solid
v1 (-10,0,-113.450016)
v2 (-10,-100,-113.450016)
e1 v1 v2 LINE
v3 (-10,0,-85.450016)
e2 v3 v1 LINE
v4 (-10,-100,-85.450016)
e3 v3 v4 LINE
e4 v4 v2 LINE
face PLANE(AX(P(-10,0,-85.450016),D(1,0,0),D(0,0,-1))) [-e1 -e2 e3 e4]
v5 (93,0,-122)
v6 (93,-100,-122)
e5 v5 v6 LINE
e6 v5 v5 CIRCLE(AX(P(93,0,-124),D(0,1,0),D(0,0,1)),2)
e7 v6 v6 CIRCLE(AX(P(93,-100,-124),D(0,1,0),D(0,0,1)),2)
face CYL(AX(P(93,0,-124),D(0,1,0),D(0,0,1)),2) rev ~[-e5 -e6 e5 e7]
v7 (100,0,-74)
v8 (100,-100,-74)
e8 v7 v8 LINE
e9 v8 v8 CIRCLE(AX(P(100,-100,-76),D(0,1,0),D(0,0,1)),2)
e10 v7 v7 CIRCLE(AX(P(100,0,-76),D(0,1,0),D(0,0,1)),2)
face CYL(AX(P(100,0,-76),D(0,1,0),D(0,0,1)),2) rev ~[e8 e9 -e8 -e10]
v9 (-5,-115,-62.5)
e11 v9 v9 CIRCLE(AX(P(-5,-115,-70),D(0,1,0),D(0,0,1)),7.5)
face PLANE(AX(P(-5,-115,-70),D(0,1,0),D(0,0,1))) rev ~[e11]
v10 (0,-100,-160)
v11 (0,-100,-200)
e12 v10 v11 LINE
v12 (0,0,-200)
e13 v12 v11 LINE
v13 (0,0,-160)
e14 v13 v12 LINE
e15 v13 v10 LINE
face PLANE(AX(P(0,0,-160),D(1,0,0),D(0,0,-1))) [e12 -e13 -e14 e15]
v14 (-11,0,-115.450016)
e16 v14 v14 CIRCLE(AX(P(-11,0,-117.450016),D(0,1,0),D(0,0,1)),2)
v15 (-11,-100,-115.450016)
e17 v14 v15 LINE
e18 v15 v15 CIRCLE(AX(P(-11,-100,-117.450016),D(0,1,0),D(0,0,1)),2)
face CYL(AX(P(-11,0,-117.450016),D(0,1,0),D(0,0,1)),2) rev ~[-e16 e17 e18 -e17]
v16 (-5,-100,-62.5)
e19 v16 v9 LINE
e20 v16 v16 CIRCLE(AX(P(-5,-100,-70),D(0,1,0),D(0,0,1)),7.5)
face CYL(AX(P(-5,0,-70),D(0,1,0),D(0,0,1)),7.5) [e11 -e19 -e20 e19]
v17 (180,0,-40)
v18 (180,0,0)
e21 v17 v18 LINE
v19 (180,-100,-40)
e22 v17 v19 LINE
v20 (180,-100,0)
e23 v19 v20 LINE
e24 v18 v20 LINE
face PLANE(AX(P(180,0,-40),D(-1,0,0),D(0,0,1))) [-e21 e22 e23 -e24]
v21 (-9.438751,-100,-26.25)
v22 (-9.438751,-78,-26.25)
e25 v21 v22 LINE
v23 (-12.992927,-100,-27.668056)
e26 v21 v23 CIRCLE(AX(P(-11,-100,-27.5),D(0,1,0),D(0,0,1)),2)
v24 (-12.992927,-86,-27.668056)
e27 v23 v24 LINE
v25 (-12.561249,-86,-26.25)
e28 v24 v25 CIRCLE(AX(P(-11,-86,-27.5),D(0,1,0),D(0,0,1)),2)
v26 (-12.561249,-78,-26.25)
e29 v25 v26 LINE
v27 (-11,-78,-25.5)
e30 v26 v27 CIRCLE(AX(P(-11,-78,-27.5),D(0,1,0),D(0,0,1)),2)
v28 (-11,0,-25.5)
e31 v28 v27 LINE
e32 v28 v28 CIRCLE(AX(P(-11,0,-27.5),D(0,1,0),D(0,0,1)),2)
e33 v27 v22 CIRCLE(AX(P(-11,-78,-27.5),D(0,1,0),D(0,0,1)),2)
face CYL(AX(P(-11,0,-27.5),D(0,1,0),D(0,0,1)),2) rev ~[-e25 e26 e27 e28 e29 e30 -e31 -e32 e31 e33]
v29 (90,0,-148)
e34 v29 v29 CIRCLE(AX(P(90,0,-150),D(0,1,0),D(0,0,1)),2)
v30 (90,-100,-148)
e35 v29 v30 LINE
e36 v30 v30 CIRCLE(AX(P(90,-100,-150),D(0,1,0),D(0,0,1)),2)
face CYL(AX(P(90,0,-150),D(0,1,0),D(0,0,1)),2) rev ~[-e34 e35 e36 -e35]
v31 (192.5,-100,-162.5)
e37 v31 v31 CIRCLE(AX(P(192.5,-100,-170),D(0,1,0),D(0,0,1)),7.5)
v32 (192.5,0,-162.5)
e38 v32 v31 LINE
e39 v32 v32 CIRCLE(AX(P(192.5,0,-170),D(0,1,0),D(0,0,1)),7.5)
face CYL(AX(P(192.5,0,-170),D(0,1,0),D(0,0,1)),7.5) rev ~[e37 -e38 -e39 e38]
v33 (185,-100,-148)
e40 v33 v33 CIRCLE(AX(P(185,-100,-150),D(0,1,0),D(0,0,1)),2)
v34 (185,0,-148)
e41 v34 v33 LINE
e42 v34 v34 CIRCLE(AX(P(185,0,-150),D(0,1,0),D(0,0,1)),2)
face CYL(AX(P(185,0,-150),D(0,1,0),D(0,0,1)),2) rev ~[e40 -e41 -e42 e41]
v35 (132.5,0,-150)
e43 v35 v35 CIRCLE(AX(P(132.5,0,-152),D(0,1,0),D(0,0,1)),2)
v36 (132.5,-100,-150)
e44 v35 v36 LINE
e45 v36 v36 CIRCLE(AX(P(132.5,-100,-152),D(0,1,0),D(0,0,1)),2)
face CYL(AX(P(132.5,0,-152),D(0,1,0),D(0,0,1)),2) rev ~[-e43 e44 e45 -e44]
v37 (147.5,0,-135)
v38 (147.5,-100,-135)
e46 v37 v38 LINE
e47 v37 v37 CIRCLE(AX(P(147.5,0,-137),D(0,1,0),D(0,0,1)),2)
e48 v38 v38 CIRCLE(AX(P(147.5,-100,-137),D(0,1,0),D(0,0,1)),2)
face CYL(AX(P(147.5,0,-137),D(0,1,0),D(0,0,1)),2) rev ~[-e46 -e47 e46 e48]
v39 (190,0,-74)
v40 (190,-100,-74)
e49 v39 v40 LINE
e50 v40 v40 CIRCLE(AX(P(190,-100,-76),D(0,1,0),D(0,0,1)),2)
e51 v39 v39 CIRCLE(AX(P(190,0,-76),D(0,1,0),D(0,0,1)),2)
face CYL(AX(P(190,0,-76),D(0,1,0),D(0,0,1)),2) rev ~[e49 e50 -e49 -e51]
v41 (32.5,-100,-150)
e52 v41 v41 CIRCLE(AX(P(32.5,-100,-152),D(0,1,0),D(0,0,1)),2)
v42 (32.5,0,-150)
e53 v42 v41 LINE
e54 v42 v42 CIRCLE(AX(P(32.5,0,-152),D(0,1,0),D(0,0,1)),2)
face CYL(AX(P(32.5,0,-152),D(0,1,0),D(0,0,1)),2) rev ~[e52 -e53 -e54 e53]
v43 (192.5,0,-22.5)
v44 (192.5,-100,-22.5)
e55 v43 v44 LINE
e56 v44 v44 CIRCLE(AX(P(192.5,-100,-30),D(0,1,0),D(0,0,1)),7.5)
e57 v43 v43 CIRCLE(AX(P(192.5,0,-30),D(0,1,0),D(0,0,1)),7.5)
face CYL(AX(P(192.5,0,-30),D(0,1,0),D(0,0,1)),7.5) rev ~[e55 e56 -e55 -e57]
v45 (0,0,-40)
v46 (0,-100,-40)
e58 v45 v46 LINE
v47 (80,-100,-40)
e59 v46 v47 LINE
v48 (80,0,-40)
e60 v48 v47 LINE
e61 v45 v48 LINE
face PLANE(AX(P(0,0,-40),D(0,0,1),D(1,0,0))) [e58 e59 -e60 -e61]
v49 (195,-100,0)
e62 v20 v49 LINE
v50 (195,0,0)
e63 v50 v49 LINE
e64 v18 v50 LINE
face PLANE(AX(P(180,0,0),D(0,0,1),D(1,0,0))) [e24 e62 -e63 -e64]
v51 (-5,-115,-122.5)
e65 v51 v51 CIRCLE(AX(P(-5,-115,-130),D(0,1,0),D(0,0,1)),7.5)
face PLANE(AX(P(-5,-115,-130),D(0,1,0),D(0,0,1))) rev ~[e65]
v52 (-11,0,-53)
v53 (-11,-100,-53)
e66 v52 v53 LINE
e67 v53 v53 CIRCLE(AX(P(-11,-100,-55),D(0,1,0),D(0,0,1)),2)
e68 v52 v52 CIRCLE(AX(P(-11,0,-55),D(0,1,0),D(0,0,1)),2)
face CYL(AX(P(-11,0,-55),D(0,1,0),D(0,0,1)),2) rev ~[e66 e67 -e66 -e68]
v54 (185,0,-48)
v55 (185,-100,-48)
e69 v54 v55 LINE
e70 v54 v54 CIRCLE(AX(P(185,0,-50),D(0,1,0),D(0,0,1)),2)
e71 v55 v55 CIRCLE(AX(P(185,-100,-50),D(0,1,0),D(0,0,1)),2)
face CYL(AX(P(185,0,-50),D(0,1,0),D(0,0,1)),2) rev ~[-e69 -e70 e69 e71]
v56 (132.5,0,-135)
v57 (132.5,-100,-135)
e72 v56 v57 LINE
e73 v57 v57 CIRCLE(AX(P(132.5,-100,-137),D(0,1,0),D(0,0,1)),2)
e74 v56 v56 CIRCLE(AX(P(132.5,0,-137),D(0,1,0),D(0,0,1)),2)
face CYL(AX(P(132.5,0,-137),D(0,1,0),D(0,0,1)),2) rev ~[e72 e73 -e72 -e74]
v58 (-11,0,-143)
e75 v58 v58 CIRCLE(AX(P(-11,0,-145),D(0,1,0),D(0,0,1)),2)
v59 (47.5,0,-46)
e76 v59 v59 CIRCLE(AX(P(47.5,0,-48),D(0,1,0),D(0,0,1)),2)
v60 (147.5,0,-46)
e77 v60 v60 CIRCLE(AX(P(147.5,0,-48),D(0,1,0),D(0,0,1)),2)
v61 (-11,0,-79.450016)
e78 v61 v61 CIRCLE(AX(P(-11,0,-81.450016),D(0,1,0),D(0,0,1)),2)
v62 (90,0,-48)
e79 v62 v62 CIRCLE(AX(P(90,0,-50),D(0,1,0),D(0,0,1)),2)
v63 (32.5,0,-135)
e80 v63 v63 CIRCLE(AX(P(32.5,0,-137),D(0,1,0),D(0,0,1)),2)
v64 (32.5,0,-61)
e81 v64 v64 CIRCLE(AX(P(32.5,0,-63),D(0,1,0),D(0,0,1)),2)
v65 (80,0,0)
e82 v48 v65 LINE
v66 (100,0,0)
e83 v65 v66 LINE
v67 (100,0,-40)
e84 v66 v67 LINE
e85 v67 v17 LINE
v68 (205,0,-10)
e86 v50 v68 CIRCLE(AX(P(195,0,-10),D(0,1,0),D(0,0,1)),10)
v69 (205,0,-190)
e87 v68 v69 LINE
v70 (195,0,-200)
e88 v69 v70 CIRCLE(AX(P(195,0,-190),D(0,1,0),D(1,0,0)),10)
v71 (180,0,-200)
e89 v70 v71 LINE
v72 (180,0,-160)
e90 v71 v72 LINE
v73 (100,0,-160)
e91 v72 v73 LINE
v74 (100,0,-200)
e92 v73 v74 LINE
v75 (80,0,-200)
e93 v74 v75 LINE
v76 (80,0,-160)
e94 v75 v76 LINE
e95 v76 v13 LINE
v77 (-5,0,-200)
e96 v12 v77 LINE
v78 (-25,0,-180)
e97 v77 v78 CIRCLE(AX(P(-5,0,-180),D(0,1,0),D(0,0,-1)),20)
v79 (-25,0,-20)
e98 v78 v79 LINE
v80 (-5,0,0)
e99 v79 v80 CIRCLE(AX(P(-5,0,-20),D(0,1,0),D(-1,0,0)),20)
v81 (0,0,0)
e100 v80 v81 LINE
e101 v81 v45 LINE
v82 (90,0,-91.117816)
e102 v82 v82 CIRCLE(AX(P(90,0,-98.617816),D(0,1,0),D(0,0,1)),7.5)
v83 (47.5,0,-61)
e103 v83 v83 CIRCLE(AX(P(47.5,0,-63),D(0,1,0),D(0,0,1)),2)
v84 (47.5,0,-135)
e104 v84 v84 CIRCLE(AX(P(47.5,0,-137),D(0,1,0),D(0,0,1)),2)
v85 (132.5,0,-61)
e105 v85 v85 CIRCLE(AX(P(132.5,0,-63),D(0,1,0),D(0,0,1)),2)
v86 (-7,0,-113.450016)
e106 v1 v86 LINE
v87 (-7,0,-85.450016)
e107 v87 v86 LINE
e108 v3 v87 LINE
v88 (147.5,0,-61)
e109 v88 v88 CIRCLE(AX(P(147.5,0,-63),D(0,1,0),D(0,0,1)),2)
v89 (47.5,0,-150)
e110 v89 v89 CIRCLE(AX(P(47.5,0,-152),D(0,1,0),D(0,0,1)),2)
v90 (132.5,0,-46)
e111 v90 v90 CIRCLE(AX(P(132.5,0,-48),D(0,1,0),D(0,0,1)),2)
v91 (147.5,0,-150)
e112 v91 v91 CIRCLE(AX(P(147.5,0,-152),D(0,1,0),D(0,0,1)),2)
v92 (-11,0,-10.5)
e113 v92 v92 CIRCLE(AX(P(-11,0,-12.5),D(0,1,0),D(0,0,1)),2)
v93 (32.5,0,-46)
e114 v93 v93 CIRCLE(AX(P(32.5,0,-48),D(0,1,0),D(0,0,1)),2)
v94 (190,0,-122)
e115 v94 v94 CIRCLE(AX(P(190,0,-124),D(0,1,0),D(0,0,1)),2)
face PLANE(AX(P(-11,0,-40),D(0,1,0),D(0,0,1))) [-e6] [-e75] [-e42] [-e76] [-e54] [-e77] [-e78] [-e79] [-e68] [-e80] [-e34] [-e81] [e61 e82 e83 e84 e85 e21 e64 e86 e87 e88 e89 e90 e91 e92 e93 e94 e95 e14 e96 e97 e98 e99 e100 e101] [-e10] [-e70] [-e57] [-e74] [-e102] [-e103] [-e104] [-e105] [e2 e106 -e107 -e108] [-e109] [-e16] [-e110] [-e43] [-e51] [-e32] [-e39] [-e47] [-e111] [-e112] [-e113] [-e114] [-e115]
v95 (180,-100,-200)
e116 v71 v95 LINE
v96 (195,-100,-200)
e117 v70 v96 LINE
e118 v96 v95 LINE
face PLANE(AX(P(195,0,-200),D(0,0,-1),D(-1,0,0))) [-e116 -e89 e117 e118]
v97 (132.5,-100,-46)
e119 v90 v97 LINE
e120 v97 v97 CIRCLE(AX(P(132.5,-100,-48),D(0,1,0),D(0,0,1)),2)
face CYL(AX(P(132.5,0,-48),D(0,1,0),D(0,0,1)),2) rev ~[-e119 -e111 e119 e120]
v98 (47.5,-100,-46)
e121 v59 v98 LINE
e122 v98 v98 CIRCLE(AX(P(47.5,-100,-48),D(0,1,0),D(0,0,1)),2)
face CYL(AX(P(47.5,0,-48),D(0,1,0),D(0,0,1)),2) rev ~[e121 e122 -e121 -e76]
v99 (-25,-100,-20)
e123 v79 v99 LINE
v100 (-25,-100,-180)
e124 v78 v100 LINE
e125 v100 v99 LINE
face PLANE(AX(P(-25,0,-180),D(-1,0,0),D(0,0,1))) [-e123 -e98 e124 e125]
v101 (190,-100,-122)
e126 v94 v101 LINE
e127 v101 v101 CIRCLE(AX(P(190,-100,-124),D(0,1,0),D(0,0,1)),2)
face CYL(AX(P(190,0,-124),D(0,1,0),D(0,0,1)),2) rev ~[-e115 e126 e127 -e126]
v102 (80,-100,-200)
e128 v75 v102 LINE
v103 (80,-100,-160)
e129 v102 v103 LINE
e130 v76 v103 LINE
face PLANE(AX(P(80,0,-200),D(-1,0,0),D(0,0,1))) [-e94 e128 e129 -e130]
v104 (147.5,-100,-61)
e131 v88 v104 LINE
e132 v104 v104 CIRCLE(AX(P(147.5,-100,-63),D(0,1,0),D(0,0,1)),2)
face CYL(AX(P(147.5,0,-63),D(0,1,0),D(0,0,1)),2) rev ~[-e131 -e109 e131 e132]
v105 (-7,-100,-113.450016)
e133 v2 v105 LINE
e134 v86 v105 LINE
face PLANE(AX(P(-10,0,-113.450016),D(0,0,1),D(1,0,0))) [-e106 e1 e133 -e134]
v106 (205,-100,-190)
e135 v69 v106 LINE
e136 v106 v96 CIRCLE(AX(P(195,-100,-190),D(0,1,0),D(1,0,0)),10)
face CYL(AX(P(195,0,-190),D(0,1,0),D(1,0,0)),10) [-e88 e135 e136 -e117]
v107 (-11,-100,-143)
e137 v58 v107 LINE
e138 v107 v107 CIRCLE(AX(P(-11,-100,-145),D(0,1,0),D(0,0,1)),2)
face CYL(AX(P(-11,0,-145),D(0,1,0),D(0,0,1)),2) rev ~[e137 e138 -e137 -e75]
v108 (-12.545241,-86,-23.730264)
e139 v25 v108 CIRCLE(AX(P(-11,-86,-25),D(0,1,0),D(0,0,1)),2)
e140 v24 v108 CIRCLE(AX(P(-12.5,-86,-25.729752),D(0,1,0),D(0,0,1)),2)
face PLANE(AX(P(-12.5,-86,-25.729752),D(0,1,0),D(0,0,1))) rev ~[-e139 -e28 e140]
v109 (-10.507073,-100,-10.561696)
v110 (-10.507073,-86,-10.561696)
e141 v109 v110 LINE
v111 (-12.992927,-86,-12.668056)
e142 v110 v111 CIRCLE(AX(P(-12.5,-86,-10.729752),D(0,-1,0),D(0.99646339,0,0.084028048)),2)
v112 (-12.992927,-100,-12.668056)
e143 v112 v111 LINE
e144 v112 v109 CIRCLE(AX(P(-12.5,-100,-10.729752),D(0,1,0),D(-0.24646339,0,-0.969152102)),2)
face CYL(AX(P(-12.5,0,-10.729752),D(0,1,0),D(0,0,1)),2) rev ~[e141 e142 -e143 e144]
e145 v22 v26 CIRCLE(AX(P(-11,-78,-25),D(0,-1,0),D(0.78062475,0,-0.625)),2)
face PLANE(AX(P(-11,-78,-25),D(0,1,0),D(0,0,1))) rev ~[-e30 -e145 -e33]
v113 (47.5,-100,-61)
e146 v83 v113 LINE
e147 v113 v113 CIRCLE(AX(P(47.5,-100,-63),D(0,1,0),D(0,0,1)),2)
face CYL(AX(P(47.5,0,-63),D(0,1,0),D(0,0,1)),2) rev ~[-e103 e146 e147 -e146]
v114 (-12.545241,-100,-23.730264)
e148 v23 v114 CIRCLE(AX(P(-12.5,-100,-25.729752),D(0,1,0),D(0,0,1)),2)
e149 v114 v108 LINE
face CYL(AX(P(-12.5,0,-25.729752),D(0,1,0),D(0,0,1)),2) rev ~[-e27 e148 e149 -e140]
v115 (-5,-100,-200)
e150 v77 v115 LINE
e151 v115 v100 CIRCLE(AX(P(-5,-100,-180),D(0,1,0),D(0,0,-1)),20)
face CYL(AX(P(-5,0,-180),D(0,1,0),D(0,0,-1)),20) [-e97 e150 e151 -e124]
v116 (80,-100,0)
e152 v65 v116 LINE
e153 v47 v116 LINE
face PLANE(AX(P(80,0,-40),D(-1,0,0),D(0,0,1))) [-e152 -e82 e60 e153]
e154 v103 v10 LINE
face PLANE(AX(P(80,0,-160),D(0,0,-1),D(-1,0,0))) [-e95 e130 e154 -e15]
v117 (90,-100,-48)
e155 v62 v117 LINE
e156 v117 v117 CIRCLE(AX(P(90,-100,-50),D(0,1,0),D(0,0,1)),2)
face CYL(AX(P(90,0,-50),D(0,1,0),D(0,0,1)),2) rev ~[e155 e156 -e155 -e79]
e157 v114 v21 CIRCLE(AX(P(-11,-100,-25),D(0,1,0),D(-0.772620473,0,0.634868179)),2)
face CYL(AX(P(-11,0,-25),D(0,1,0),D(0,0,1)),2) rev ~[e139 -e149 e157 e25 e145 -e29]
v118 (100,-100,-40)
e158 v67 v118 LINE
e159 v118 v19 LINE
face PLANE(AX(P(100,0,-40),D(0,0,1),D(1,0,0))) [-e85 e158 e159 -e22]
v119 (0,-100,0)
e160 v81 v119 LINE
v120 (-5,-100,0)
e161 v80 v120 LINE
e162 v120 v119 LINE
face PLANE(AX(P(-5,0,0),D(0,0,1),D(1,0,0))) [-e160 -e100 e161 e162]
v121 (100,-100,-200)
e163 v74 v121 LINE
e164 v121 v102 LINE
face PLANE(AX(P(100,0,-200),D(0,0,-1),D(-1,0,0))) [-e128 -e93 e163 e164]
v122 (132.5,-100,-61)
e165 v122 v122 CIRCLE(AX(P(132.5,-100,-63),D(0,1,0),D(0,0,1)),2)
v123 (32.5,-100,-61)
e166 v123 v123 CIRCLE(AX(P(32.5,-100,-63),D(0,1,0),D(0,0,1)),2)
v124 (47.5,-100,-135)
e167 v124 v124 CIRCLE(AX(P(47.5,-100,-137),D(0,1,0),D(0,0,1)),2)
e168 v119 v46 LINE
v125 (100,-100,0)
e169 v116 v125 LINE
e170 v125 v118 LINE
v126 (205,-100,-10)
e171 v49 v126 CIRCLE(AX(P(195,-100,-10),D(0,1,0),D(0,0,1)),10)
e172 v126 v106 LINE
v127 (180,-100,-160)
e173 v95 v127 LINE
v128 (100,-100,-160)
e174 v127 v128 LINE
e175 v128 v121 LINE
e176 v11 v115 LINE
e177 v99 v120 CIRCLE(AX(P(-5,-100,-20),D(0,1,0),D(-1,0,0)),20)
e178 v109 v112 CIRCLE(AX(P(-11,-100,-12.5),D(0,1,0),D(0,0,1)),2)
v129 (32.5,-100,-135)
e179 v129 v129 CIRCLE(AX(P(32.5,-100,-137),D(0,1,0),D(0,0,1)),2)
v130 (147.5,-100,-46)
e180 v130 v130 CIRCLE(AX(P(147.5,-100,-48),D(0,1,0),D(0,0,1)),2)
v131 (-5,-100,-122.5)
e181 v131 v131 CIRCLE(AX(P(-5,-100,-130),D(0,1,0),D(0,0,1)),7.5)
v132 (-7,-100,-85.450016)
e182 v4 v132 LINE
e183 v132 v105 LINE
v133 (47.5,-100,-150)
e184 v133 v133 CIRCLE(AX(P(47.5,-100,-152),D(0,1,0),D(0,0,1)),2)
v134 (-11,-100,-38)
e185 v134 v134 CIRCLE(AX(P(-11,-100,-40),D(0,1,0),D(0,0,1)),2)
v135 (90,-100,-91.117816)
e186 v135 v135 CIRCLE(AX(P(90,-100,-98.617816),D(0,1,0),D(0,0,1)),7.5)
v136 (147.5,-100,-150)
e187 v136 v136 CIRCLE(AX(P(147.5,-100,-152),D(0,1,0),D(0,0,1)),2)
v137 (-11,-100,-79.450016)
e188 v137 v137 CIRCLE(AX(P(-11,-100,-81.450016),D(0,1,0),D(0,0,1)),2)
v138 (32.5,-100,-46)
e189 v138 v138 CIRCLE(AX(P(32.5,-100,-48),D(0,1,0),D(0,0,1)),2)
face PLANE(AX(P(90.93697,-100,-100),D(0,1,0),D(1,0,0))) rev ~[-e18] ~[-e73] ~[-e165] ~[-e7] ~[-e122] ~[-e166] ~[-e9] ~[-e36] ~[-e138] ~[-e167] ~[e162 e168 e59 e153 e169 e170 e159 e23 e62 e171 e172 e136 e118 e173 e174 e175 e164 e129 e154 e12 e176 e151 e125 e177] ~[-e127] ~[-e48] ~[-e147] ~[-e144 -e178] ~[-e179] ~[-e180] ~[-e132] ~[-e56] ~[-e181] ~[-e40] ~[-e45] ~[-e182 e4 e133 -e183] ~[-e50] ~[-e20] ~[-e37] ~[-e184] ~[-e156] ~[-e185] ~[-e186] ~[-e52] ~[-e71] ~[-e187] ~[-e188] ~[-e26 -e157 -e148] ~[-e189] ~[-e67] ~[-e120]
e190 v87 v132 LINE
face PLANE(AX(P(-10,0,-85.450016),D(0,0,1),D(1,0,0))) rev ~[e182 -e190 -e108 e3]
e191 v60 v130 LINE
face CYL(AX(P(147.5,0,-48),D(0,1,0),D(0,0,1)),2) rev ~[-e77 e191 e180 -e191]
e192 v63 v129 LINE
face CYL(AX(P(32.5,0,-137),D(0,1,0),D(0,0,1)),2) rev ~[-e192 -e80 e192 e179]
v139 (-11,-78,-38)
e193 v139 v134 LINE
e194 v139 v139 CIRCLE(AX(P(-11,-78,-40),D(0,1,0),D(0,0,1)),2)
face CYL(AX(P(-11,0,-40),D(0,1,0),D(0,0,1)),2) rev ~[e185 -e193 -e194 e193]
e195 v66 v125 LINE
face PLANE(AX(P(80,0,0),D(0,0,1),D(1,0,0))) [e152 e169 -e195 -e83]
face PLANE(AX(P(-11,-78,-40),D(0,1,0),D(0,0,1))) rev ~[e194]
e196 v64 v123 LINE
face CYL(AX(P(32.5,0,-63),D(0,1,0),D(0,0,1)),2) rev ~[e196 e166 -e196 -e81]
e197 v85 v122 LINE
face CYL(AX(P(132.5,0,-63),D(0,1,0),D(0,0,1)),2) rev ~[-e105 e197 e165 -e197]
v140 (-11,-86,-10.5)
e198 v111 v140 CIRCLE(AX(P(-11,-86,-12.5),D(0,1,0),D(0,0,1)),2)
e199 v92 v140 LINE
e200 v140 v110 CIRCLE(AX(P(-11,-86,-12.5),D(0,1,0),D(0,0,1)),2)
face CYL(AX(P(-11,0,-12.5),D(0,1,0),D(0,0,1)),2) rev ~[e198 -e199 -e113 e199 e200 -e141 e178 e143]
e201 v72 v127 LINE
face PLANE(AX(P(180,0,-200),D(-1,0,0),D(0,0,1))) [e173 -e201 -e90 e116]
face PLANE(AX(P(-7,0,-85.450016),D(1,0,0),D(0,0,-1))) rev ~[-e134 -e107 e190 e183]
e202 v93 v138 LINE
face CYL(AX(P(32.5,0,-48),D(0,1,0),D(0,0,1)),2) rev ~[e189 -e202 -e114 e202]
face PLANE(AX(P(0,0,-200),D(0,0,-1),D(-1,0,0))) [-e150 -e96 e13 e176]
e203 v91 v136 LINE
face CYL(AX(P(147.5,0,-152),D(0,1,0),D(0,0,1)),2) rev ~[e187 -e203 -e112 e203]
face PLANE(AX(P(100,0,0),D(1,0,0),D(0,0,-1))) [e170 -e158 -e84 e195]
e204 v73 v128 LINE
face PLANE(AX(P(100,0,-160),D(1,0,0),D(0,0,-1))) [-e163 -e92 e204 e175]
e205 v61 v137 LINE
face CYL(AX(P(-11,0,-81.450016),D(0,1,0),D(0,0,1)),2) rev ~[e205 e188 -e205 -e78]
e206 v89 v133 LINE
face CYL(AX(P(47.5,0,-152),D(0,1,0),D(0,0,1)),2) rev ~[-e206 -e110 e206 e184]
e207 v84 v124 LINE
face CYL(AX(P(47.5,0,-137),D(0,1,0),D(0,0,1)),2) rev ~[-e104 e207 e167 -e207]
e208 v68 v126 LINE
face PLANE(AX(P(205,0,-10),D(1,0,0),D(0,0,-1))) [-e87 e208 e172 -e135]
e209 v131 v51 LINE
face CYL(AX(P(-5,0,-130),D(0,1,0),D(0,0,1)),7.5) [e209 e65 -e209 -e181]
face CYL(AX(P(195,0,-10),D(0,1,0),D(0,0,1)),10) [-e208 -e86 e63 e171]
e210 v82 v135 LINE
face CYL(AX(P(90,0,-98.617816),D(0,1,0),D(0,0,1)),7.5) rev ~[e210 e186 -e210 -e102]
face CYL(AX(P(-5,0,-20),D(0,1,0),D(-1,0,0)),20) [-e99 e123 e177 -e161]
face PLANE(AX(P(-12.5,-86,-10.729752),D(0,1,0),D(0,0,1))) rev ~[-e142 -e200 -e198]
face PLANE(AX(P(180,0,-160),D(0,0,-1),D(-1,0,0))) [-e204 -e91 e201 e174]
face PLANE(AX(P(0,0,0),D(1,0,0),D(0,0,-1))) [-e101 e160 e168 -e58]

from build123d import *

# Parameters (mm, degrees)
CROQUIS1_R              = 7.5
CROQUIS1_R_2            = 2
CROQUIS1_W              = 3
CROQUIS1_H              = 28
SALIENTE_EXTRUIR1_DEPTH = 100
CROQUIS2_R              = 7.5
SALIENTE_EXTRUIR2_DEPTH = 115
CROQUIS3_R              = 2
CORTAR_EXTRUIR2_DEPTH   = 149
CROQUIS4_R              = 2
SALIENTE_EXTRUIR3_DEPTH = 86
CROQUIS5_R              = 2
CORTAR_EXTRUIR3_DEPTH   = 139
CROQUIS7_R              = 2
CORTAR_EXTRUIR4_DEPTH   = 139
CROQUIS8_R              = 2
SALIENTE_EXTRUIR4_DEPTH = 78
CROQUIS9_R              = 2
CORTAR_EXTRUIR5_DEPTH   = 117


with BuildPart() as part:
    # Croquis1 → Saliente-Extruir1 (new body)
    with BuildSketch(Plane(origin=(0, 0, 0), x_dir=(1, 0, 0), z_dir=(0, 1, 0))):
        with BuildLine():
            Line((0, 0), (0, 40))
            Line((0, 40), (80, 40))
            Line((80, 40), (80, 0))
            Line((80, 0), (100, 0))
            Line((100, 0), (100, 40))
            Line((100, 40), (180, 40))
            Line((180, 40), (180, 0))
            Line((180, 0), (195, 0))
            ThreePointArc((195, 0), (202.071067812, 2.928932188), (205, 10))
            Line((205, 10), (205, 190))
            ThreePointArc((205, 190), (202.071067812, 197.071067812), (195, 200))
            Line((195, 200), (180, 200))
            Line((180, 200), (180, 160))
            Line((180, 160), (100, 160))
            Line((100, 160), (100, 200))
            Line((100, 200), (80, 200))
            Line((80, 200), (80, 160))
            Line((80, 160), (0, 160))
            Line((0, 160), (0, 200))
            Line((0, 200), (-5, 200))
            ThreePointArc((-5, 200), (-19.142135624, 194.142135624), (-25, 180))
            Line((-25, 180), (-25, 20))
            ThreePointArc((-25, 20), (-19.142135624, 5.857864376), (-5, 0))
            Line((-5, 0), (0, 0))
        make_face()
        with Locations(Location((-5, 70, 0), (0, 0, 270))):
            Circle(CROQUIS1_R, mode=Mode.SUBTRACT)
        with Locations(Location((-5, 130, 0), (0, 0, 270))):
            Circle(CROQUIS1_R, mode=Mode.SUBTRACT)
        with Locations(Location((192.5, 170, 0), (0, 0, 270))):
            Circle(CROQUIS1_R, mode=Mode.SUBTRACT)
        with Locations(Location((192.5, 30, 0), (0, 0, 270))):
            Circle(CROQUIS1_R, mode=Mode.SUBTRACT)
        with Locations(Location((90, 98.617815675, 0), (0, 0, 270))):
            Circle(CROQUIS1_R, mode=Mode.SUBTRACT)
        with Locations(Location((32.5, 152, 0), (0, 0, 270))):
            Circle(CROQUIS1_R_2, mode=Mode.SUBTRACT)
        with Locations(Location((47.5, 152, 0), (0, 0, 270))):
            Circle(CROQUIS1_R_2, mode=Mode.SUBTRACT)
        with Locations(Location((47.5, 137, 0), (0, 0, 270))):
            Circle(CROQUIS1_R_2, mode=Mode.SUBTRACT)
        with Locations(Location((32.5, 137, 0), (0, 0, 270))):
            Circle(CROQUIS1_R_2, mode=Mode.SUBTRACT)
        with Locations(Location((32.5, 48, 0), (0, 0, 270))):
            Circle(CROQUIS1_R_2, mode=Mode.SUBTRACT)
        with Locations(Location((32.5, 63, 0), (0, 0, 270))):
            Circle(CROQUIS1_R_2, mode=Mode.SUBTRACT)
        with Locations(Location((47.5, 48, 0), (0, 0, 270))):
            Circle(CROQUIS1_R_2, mode=Mode.SUBTRACT)
        with Locations(Location((47.5, 63, 0), (0, 0, 270))):
            Circle(CROQUIS1_R_2, mode=Mode.SUBTRACT)
        with Locations(Location((132.5, 152, 0), (0, 0, 270))):
            Circle(CROQUIS1_R_2, mode=Mode.SUBTRACT)
        with Locations(Location((132.5, 137, 0), (0, 0, 270))):
            Circle(CROQUIS1_R_2, mode=Mode.SUBTRACT)
        with Locations(Location((147.5, 152, 0), (0, 0, 270))):
            Circle(CROQUIS1_R_2, mode=Mode.SUBTRACT)
        with Locations(Location((147.5, 137, 0), (0, 0, 270))):
            Circle(CROQUIS1_R_2, mode=Mode.SUBTRACT)
        with Locations(Location((132.5, 63, 0), (0, 0, 270))):
            Circle(CROQUIS1_R_2, mode=Mode.SUBTRACT)
        with Locations(Location((132.5, 48, 0), (0, 0, 270))):
            Circle(CROQUIS1_R_2, mode=Mode.SUBTRACT)
        with Locations(Location((147.5, 63, 0), (0, 0, 270))):
            Circle(CROQUIS1_R_2, mode=Mode.SUBTRACT)
        with Locations(Location((147.5, 48, 0), (0, 0, 270))):
            Circle(CROQUIS1_R_2, mode=Mode.SUBTRACT)
        with Locations(Location((90, 50, 0), (0, 0, 270))):
            Circle(CROQUIS1_R_2, mode=Mode.SUBTRACT)
        with Locations(Location((185, 50, 0), (0, 0, 270))):
            Circle(CROQUIS1_R_2, mode=Mode.SUBTRACT)
        with Locations(Location((185, 150, 0), (0, 0, 270))):
            Circle(CROQUIS1_R_2, mode=Mode.SUBTRACT)
        with Locations(Location((90, 150, 0), (0, 0, 270))):
            Circle(CROQUIS1_R_2, mode=Mode.SUBTRACT)
        with Locations((-8.5, 99.450016357)):
            Rectangle(CROQUIS1_W, CROQUIS1_H, mode=Mode.SUBTRACT)
    extrude(amount=-SALIENTE_EXTRUIR1_DEPTH)

    # Croquis2 → Saliente-Extruir2 (add)
    with BuildSketch(Plane(origin=(0, 0, 0), x_dir=(1, 0, 0), z_dir=(0, 1, 0))):
        with Locations(Location((-5, 130, 0), (0, 0, 270))):
            Circle(CROQUIS2_R)
        with Locations(Location((-5, 70, 0), (0, 0, 270))):
            Circle(CROQUIS2_R)
    extrude(amount=-SALIENTE_EXTRUIR2_DEPTH)

    # Croquis3 → Cortar-Extruir2 (cut)
    with BuildSketch(Plane(origin=(0, 0, 0), x_dir=(1, 0, 0), z_dir=(0, 1, 0))):
        with Locations(Location((-11, 117.450016357, 0), (0, 0, 270))):
            Circle(CROQUIS3_R)
        with Locations(Location((-11, 81.450016357, 0), (0, 0, 270))):
            Circle(CROQUIS3_R)
        with Locations(Location((190, 76, 0), (0, 0, 270))):
            Circle(CROQUIS3_R)
        with Locations(Location((-12.5, 25.729751891, 0), (0, 0, 270))):
            Circle(CROQUIS3_R)
        with Locations(Location((-12.5, 10.729751891, 0), (0, 0, 270))):
            Circle(CROQUIS3_R)
        with Locations(Location((190, 124, 0), (0, 0, 270))):
            Circle(CROQUIS3_R)
        with Locations(Location((93, 124, 0), (0, 0, 270))):
            Circle(CROQUIS3_R)
        with Locations(Location((100, 76, 0), (0, 0, 270))):
            Circle(CROQUIS3_R)
    extrude(amount=-CORTAR_EXTRUIR2_DEPTH, mode=Mode.SUBTRACT)

    # Croquis4 → Saliente-Extruir3 (add)
    with BuildSketch(Plane(origin=(0, 0, 0), x_dir=(1, 0, 0), z_dir=(0, 1, 0))):
        with Locations(Location((-12.5, 25.729751891, 0), (0, 0, 270))):
            Circle(CROQUIS4_R)
        with Locations(Location((-12.5, 10.729751891, 0), (0, 0, 270))):
            Circle(CROQUIS4_R)
    extrude(amount=-SALIENTE_EXTRUIR3_DEPTH)

    # Croquis5 → Cortar-Extruir3 (cut)
    with BuildSketch(Plane(origin=(0, 0, 0), x_dir=(1, 0, 0), z_dir=(0, 1, 0))):
        with Locations(Location((-11, 40, 0), (0, 0, 270))):
            Circle(CROQUIS5_R)
        with Locations(Location((-11, 25, 0), (0, 0, 270))):
            Circle(CROQUIS5_R)
    extrude(amount=-CORTAR_EXTRUIR3_DEPTH, mode=Mode.SUBTRACT)

    # Croquis7 → Cortar-Extruir4 (cut)
    with BuildSketch(Plane(origin=(0, 0, 0), x_dir=(1, 0, 0), z_dir=(0, 1, 0))):
        with Locations(Location((-11, 145, 0), (0, 0, 270))):
            Circle(CROQUIS7_R)
        with Locations(Location((-11, 55, 0), (0, 0, 270))):
            Circle(CROQUIS7_R)
    extrude(amount=-CORTAR_EXTRUIR4_DEPTH, mode=Mode.SUBTRACT)

    # Croquis8 → Saliente-Extruir4 (add)
    with BuildSketch(Plane(origin=(0, 0, 0), x_dir=(1, 0, 0), z_dir=(0, 1, 0))):
        with Locations(Location((-11, 40, 0), (0, 0, 270))):
            Circle(CROQUIS8_R)
        with Locations(Location((-11, 25, 0), (0, 0, 270))):
            Circle(CROQUIS8_R)
    extrude(amount=-SALIENTE_EXTRUIR4_DEPTH)

    # Croquis9 → Cortar-Extruir5 (cut)
    with BuildSketch(Plane(origin=(0, 0, 0), x_dir=(1, 0, 0), z_dir=(0, 1, 0))):
        with Locations(Location((-11, 27.5, 0), (0, 0, 270))):
            Circle(CROQUIS9_R)
        with Locations(Location((-11, 12.5, 0), (0, 0, 270))):
            Circle(CROQUIS9_R)
    extrude(amount=-CORTAR_EXTRUIR5_DEPTH, mode=Mode.SUBTRACT)


solid = part.part
